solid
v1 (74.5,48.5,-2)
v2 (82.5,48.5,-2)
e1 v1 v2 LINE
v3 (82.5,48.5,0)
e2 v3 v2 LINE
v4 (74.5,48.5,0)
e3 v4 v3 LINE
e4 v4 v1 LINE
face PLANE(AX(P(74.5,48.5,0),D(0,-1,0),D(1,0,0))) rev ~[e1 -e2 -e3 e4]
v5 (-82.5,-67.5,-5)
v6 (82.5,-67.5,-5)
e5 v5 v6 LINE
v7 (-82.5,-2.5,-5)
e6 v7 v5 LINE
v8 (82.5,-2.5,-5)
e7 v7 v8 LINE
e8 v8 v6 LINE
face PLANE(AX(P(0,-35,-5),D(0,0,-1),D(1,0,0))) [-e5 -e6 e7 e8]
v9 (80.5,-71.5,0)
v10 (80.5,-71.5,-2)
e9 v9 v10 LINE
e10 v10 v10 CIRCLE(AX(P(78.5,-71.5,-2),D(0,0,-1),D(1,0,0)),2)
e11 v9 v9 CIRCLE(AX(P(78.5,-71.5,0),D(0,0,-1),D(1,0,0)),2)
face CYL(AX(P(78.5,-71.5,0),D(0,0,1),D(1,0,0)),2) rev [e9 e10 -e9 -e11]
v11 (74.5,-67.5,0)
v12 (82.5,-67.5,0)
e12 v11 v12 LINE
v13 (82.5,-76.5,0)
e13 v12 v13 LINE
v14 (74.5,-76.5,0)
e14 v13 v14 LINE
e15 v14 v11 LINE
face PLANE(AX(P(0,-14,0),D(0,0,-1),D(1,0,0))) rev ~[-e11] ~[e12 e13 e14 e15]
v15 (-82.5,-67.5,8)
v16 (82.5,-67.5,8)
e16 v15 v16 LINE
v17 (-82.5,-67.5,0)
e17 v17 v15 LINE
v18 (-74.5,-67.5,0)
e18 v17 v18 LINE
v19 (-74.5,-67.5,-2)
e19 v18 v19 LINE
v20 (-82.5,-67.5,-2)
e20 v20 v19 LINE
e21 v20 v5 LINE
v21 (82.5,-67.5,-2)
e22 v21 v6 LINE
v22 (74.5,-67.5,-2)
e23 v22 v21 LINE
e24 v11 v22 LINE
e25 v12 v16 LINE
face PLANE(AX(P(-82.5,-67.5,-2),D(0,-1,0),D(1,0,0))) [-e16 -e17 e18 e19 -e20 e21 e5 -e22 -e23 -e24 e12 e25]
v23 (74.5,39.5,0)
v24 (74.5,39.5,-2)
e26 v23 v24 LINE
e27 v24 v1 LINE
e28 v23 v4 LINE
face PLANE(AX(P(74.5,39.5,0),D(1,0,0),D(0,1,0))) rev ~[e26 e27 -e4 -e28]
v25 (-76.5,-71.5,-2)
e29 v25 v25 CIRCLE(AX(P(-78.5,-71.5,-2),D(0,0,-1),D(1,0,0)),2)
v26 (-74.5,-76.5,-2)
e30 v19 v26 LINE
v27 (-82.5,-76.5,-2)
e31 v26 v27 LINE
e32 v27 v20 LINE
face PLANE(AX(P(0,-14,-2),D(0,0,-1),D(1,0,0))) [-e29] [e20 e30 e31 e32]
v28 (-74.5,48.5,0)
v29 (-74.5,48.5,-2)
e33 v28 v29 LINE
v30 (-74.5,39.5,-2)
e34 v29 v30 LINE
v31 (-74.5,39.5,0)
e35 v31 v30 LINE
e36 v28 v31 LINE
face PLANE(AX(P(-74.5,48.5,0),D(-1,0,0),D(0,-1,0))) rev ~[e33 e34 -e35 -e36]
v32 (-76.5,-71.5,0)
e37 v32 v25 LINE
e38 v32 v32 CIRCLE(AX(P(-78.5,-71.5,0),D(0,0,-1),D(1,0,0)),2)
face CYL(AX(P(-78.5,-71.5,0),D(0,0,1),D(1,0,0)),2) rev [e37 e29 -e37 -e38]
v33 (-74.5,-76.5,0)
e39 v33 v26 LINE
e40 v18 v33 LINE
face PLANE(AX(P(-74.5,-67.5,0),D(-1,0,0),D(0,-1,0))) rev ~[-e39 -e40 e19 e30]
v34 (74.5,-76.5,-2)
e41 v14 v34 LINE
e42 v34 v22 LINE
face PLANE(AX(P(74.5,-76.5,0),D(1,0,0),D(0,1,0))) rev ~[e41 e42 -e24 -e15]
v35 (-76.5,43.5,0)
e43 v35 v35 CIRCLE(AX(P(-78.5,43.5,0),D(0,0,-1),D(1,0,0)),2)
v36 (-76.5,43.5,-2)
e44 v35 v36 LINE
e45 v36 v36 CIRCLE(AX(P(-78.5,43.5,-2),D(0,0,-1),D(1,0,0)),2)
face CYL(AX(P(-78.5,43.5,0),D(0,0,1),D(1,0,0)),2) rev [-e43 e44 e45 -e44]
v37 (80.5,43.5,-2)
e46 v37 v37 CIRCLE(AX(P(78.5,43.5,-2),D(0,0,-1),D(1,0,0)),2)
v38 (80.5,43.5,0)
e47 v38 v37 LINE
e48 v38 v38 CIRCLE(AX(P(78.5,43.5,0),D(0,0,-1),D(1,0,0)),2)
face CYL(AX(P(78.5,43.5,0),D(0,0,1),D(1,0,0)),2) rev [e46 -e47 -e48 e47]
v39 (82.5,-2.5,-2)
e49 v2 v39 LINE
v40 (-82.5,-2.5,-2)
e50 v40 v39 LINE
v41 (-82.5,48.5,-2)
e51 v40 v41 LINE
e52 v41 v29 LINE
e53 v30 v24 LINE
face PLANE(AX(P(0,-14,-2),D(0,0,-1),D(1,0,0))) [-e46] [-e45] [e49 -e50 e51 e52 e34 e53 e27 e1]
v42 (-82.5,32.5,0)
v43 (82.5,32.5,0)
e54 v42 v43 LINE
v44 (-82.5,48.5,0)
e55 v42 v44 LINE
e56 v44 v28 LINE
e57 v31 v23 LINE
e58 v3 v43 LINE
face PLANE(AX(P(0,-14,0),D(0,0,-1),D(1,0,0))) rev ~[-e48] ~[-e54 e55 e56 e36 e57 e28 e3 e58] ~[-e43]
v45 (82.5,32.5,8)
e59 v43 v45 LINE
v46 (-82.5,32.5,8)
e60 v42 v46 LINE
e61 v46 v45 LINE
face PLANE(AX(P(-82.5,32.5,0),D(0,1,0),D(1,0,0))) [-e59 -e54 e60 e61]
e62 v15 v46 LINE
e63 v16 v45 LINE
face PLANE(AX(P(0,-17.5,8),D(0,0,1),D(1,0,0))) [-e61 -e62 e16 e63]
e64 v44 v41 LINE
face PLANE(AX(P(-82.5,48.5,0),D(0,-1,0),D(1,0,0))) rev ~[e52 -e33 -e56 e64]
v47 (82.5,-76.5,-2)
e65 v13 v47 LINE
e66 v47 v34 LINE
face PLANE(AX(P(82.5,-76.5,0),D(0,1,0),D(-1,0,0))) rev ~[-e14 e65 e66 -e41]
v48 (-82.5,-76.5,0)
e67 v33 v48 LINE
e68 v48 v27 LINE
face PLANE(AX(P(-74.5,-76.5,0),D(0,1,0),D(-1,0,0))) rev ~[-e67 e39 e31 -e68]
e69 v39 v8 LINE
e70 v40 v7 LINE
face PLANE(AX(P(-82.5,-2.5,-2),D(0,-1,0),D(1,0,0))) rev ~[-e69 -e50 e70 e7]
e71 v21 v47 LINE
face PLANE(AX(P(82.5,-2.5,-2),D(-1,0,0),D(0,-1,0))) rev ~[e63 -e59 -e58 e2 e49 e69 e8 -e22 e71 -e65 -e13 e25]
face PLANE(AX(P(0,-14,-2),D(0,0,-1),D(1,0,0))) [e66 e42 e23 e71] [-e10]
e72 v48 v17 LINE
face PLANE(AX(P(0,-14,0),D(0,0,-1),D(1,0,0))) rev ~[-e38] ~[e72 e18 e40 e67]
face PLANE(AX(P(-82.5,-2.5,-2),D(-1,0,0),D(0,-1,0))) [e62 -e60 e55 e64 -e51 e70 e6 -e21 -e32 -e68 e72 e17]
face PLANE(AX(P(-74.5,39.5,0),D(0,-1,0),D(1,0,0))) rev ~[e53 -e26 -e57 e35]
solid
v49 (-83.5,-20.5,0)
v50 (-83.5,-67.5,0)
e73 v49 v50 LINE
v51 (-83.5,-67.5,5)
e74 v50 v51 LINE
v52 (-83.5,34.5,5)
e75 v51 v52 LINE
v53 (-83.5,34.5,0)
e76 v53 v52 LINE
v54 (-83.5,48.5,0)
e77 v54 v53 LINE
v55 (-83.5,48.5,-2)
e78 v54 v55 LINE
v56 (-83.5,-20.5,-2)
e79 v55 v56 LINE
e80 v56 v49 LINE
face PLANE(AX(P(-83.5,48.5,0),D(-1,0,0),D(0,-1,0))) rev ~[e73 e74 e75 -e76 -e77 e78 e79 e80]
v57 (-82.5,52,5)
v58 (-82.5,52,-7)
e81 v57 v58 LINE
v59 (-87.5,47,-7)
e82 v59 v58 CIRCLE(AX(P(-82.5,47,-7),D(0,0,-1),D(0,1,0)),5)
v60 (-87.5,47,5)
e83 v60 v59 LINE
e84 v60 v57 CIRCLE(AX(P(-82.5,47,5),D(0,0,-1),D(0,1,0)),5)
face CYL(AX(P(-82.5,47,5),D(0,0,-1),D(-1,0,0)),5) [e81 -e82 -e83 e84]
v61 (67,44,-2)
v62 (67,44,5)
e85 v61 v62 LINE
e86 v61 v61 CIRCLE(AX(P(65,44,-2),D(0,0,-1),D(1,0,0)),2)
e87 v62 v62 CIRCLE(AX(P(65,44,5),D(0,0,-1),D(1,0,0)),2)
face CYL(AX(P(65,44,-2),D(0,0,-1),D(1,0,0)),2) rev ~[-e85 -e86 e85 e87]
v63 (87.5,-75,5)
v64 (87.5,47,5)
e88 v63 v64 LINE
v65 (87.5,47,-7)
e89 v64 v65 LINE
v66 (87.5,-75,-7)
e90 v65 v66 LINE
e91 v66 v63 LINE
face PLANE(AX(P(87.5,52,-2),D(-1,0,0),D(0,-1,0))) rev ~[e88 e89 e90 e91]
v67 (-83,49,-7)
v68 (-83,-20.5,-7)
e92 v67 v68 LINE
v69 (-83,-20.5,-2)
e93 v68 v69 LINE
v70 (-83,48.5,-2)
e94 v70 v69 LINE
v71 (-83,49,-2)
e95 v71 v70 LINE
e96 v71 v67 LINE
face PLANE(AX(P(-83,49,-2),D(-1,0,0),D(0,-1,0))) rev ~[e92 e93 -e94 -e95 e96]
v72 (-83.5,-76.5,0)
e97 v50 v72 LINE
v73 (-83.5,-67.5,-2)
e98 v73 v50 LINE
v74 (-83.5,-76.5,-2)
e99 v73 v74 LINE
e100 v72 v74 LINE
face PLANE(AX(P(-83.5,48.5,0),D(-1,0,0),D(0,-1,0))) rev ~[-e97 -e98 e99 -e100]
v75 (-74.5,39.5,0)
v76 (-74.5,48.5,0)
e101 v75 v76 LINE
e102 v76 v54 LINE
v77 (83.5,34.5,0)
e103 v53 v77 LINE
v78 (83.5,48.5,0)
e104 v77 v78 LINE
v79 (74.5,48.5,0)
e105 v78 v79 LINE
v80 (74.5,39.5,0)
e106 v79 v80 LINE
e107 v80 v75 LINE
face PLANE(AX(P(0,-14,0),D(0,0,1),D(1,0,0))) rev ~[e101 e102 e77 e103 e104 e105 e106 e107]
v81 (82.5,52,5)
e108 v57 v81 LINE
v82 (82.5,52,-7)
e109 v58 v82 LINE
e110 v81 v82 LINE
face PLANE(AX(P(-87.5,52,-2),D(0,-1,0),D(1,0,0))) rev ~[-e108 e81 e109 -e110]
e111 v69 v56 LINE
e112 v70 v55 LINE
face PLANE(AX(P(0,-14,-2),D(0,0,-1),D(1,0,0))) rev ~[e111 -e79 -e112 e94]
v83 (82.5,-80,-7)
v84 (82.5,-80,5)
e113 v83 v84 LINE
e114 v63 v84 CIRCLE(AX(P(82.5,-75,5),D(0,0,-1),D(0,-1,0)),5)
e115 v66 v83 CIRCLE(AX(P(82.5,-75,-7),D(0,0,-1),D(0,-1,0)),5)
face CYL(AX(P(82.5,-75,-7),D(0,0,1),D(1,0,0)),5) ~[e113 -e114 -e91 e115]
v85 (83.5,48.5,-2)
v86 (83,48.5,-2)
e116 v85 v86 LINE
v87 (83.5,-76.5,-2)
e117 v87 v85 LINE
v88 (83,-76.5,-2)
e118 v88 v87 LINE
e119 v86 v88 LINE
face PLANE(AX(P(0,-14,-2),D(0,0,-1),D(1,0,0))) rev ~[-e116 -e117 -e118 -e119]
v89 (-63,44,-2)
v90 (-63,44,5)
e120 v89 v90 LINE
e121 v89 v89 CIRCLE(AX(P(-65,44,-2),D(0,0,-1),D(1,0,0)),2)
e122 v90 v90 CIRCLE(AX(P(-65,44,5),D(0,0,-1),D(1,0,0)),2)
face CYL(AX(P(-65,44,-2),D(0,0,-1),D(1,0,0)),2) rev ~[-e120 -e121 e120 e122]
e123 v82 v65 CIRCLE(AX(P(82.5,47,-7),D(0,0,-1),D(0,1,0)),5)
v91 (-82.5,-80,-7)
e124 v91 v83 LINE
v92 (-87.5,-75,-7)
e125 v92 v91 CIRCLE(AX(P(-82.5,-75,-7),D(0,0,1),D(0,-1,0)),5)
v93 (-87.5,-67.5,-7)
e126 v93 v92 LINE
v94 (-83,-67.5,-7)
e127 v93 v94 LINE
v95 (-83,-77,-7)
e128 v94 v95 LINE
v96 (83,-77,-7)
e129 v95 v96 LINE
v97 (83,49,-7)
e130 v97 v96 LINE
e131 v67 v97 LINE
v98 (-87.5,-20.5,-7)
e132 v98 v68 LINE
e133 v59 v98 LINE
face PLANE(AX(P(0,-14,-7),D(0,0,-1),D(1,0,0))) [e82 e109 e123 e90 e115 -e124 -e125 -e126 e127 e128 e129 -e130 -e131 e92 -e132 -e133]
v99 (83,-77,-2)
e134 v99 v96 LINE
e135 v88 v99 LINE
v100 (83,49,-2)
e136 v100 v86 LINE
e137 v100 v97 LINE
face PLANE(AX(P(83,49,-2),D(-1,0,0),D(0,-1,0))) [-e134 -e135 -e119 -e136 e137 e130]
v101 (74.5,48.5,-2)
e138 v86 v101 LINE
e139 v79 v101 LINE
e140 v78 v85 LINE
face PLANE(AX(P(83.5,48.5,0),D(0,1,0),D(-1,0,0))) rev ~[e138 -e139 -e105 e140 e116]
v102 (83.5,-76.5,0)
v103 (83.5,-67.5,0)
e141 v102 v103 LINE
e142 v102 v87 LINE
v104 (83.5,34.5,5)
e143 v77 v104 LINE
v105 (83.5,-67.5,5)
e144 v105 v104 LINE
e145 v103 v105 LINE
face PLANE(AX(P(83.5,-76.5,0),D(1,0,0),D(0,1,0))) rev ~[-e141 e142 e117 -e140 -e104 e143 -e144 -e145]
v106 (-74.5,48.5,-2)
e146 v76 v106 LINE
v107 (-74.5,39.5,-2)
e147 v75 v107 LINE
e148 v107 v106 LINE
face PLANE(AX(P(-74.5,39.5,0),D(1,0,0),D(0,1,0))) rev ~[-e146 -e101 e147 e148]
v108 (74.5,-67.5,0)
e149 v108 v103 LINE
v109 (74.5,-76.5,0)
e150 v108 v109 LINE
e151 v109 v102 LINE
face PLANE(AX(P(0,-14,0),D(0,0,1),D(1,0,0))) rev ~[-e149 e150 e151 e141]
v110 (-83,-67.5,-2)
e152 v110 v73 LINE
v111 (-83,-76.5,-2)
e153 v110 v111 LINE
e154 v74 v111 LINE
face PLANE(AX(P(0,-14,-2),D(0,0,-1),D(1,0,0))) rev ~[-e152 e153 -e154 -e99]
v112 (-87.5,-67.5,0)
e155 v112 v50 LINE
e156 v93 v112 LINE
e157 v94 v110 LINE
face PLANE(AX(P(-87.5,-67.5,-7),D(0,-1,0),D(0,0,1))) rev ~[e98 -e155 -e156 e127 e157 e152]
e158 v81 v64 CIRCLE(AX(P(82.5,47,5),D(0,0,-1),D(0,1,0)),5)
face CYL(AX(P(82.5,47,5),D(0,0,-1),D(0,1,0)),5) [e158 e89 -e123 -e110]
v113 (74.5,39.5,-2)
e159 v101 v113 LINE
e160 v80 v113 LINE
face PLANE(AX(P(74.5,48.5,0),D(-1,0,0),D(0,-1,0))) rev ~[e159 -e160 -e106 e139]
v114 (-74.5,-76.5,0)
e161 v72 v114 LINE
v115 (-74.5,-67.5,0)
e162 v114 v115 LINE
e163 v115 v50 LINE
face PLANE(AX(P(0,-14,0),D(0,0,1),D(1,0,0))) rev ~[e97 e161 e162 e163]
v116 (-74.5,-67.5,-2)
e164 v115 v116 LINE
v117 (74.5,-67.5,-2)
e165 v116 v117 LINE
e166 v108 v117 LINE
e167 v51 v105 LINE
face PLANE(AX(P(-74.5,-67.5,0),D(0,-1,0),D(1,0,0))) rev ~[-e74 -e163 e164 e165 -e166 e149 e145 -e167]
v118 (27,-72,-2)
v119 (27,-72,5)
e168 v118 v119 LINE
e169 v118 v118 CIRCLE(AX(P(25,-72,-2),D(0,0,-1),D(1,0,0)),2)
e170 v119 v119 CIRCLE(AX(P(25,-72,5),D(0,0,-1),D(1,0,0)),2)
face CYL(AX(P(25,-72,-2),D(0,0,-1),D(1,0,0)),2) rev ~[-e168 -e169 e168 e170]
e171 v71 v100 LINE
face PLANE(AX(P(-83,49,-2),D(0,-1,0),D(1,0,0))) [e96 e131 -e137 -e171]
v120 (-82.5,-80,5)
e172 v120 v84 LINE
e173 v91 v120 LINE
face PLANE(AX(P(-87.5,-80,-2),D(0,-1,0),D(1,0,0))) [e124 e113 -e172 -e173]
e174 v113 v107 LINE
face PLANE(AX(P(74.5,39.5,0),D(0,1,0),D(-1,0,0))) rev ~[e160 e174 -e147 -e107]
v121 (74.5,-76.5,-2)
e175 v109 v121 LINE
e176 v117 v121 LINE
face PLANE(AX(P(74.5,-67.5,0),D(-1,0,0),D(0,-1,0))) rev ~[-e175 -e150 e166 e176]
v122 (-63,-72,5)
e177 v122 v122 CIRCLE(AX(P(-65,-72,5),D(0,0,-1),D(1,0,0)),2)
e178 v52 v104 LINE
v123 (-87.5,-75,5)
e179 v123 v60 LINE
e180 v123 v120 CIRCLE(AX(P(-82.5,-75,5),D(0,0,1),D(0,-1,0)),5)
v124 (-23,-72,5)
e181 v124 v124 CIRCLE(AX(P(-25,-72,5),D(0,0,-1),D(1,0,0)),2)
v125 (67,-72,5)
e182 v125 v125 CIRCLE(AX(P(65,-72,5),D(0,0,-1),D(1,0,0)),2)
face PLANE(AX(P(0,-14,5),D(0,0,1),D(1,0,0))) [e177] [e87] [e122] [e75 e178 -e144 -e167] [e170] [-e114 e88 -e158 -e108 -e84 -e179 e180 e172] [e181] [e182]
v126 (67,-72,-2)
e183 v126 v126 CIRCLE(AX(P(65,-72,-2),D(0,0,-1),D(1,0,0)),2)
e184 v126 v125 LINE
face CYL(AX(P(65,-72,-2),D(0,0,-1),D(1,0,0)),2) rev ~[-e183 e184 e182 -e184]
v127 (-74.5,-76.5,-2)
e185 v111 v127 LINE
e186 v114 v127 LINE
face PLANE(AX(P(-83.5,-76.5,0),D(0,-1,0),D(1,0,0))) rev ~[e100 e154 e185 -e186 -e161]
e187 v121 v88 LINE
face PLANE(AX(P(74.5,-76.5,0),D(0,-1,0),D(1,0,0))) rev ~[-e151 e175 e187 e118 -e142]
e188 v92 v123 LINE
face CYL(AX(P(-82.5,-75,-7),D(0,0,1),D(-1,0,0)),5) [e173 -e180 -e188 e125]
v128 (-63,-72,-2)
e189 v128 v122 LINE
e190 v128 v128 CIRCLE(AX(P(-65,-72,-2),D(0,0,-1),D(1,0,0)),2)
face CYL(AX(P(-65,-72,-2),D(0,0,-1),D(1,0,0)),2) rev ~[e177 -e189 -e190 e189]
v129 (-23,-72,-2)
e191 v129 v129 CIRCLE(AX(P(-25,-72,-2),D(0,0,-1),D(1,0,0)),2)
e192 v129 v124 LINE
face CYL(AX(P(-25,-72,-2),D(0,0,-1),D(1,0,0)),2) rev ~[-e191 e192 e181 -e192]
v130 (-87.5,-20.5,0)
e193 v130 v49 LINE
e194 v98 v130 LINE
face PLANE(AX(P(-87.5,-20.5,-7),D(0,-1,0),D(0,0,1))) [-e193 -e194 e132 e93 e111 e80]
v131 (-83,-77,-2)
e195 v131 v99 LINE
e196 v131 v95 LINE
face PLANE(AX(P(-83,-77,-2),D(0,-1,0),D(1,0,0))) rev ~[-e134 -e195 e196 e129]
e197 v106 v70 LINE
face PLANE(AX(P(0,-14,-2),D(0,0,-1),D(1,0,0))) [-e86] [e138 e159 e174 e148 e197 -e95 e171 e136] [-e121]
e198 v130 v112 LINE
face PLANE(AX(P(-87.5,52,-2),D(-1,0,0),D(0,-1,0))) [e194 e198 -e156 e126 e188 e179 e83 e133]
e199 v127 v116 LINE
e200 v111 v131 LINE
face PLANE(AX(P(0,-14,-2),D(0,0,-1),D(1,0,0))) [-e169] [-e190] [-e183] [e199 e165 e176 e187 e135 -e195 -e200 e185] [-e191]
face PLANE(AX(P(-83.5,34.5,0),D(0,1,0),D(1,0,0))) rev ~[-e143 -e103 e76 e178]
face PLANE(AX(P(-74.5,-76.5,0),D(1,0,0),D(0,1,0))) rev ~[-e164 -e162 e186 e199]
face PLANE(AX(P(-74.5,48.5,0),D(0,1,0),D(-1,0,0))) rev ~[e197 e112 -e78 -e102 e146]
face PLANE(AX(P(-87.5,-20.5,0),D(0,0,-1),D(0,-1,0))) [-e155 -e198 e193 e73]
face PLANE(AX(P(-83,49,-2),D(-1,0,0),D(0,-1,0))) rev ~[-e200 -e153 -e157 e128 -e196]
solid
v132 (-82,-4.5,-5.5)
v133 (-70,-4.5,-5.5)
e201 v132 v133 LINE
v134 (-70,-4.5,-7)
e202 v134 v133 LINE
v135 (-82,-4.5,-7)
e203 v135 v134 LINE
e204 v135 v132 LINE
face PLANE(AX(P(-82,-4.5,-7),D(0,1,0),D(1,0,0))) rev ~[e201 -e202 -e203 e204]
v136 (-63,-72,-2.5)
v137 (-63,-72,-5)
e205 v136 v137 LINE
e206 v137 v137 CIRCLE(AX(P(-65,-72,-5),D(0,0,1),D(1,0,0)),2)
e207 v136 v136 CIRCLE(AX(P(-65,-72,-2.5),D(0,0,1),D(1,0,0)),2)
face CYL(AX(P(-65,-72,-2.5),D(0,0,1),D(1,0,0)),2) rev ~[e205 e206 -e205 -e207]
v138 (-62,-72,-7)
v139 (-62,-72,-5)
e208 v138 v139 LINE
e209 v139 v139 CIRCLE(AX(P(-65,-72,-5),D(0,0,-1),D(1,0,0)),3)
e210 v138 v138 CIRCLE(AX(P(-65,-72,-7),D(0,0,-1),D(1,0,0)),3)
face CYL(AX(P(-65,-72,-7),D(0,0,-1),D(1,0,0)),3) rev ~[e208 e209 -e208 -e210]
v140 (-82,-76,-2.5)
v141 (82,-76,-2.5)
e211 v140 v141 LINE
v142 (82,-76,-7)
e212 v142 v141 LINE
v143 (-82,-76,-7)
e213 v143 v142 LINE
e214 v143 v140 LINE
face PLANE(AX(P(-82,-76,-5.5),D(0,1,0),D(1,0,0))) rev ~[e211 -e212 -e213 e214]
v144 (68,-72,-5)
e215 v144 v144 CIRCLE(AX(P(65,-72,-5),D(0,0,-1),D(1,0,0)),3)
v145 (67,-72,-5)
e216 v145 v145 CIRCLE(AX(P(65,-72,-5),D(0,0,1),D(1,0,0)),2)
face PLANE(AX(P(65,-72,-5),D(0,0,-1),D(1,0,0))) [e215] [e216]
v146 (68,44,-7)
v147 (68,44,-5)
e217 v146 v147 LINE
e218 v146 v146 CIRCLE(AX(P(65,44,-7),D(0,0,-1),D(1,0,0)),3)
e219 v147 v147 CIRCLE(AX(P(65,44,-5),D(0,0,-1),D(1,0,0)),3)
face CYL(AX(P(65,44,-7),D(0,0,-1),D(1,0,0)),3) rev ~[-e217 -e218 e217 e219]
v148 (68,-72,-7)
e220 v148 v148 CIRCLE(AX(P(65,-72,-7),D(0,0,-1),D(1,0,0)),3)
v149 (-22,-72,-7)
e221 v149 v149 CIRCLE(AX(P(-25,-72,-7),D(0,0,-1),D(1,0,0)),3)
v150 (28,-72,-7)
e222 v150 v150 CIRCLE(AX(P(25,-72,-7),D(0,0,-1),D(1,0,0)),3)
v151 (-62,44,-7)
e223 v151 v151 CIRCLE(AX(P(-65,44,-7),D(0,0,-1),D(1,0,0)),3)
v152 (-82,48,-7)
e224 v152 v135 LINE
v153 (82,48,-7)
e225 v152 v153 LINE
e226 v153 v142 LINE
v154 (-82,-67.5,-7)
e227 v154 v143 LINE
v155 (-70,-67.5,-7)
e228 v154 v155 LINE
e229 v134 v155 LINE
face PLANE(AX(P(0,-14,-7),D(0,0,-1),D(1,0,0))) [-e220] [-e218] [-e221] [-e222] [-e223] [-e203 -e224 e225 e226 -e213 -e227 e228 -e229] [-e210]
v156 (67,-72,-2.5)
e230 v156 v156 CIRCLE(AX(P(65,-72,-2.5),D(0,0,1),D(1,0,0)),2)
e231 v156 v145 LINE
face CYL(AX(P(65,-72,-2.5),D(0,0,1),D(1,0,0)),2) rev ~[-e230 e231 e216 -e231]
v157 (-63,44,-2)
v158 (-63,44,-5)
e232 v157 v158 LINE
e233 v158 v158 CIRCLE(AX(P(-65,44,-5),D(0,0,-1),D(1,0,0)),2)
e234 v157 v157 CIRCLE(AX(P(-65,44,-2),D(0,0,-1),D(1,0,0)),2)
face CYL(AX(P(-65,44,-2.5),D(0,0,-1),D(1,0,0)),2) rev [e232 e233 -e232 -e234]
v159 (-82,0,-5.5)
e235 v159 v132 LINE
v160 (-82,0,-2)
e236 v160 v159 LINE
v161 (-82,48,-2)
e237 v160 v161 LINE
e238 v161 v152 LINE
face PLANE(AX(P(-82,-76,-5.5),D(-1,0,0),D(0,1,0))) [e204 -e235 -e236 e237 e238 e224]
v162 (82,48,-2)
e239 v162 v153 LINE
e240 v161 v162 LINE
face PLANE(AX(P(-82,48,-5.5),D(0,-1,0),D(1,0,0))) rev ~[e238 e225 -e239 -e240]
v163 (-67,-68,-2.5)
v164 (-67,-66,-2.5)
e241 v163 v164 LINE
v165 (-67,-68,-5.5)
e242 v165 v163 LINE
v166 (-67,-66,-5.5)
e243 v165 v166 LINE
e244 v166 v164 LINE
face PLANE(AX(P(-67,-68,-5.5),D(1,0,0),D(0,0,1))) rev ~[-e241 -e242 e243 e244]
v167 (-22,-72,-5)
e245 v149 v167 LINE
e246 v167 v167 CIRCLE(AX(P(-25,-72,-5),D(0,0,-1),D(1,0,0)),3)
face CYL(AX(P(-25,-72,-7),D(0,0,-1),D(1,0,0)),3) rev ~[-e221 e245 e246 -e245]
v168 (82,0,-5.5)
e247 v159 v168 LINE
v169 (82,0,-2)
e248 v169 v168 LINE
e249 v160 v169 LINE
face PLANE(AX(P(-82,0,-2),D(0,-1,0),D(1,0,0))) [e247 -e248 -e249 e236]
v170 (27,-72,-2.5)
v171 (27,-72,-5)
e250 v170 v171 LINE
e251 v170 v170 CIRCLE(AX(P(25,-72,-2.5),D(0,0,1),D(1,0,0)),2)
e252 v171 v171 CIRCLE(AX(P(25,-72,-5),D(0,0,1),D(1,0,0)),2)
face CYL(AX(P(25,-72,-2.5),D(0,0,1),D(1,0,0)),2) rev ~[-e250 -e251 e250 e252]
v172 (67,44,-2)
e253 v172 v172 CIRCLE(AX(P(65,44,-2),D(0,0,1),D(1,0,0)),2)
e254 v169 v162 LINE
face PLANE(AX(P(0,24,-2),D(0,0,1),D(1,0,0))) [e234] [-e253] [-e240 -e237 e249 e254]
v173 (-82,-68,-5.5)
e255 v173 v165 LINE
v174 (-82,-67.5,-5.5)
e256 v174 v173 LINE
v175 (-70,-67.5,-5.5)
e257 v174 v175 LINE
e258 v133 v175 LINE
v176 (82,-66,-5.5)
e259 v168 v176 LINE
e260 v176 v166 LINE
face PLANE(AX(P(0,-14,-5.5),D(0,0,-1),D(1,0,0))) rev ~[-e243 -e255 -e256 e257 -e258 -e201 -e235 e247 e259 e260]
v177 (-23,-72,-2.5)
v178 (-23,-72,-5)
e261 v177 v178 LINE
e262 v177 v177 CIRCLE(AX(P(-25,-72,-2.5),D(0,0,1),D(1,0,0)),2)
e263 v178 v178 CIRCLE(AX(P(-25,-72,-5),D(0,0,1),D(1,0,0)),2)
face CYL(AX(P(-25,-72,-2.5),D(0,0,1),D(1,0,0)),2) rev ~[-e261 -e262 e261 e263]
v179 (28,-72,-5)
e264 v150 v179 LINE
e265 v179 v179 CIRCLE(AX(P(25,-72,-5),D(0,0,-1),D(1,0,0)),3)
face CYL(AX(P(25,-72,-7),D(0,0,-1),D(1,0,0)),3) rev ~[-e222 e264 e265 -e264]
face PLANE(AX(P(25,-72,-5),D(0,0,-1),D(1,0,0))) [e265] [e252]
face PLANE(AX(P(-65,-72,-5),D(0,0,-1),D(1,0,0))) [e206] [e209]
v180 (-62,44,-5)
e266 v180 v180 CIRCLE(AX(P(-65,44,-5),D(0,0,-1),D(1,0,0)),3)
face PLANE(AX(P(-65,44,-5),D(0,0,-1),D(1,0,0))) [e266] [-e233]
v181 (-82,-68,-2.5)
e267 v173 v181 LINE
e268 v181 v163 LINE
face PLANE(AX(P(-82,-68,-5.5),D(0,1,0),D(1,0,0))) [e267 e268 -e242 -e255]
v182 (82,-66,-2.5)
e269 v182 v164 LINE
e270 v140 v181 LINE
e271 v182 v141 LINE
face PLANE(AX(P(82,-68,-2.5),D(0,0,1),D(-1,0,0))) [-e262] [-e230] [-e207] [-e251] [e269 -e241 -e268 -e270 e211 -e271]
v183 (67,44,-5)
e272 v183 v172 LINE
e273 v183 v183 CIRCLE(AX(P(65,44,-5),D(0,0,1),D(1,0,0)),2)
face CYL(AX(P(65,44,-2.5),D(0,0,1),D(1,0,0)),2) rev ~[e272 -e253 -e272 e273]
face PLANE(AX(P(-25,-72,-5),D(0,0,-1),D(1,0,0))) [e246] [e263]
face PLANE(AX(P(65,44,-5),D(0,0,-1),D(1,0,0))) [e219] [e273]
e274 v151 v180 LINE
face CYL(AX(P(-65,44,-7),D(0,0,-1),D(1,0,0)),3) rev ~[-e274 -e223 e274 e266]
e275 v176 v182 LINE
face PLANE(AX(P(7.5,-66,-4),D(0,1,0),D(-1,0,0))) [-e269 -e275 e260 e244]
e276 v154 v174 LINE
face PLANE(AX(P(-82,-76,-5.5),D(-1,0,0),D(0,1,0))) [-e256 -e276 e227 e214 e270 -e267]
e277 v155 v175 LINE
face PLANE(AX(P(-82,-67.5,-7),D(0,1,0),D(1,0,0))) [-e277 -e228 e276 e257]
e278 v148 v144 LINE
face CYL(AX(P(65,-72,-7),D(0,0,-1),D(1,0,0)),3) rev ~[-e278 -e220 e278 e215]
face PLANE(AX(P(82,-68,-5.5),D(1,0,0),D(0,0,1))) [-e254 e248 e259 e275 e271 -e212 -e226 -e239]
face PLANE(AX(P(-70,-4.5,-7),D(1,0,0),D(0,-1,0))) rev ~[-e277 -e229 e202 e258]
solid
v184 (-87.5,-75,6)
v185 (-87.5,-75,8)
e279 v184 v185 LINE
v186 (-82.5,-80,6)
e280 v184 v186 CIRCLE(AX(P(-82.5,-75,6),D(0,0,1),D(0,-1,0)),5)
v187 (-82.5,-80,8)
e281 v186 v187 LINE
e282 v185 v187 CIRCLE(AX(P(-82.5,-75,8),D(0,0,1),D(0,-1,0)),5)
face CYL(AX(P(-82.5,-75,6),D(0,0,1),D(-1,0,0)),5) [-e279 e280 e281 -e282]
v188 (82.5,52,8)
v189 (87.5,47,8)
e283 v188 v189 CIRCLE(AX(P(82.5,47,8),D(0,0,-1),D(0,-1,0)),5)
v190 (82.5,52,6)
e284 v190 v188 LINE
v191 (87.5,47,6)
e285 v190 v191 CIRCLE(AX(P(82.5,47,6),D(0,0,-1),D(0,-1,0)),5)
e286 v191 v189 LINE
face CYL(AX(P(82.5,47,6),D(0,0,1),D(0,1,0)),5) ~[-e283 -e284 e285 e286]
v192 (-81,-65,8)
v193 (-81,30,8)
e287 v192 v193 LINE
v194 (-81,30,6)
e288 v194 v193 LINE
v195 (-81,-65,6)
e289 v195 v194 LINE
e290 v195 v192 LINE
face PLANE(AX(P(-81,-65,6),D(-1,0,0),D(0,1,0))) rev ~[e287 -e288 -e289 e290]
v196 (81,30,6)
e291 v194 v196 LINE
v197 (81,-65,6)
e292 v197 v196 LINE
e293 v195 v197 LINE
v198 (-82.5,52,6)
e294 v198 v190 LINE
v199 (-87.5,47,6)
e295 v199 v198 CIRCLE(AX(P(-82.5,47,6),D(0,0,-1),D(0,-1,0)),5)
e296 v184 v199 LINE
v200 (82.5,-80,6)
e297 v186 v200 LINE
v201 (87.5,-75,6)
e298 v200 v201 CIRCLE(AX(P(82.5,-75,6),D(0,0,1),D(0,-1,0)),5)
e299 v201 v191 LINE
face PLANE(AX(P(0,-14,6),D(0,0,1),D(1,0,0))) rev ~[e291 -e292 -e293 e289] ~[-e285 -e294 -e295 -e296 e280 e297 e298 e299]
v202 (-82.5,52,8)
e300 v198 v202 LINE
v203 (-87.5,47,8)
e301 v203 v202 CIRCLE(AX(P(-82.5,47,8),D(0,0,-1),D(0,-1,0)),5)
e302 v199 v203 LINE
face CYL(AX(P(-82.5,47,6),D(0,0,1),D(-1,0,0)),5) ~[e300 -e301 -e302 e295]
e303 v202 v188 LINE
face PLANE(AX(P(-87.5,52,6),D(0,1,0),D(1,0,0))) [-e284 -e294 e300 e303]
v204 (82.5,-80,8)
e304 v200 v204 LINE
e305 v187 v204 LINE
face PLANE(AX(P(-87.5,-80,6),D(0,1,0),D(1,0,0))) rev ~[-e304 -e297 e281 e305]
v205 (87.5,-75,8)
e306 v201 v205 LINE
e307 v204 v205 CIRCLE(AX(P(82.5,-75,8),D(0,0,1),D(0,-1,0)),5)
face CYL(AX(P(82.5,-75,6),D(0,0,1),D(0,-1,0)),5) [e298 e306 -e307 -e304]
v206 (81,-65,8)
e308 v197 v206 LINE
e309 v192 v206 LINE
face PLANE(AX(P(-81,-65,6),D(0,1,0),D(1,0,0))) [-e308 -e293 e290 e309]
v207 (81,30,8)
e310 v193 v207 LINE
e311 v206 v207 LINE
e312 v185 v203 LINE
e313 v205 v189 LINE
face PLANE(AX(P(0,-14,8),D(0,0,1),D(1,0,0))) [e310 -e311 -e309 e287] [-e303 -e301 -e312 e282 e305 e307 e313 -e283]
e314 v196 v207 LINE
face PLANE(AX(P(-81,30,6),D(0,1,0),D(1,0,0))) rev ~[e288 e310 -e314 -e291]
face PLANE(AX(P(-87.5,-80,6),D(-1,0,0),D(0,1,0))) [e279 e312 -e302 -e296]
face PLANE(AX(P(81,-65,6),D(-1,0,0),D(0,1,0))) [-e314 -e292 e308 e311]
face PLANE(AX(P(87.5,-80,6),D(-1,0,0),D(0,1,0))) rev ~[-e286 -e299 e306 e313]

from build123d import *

# Parameters (mm, degrees)
SKETCH_W        = 165
SKETCH_H        = 100
PAD_DEPTH       = 8
SKETCH001_R     = 2
PAD001_DEPTH    = 2
SKETCH002_W     = 165
SKETCH002_H     = 65
PAD002_DEPTH    = 3
SKETCH003_W     = 175
SKETCH003_H     = 132
SKETCH003_W_2   = 167
SKETCH003_H_2   = 102
PAD003_DEPTH    = 5
SKETCH004_W     = 175
SKETCH004_H     = 132
PAD004_DEPTH    = 2
SKETCH005_W     = 175
SKETCH005_H     = 132
SKETCH005_W_2   = 166
SKETCH005_H_2   = 126
PAD005_DEPTH    = 5
FILLET_R        = 5
SKETCH006_R     = 2
POCKET_DEPTH    = 7
SKETCH011_W     = 47
SKETCH011_H     = 7
POCKET002_DEPTH = 6
SKETCH007_W     = 164
SKETCH007_H     = 48
PAD006_DEPTH    = 3.5
SKETCH008_W     = 164
SKETCH008_H     = 124
PAD007_DEPTH    = 1.5
SKETCH009_W     = 164
SKETCH009_H     = 8
PAD008_DEPTH    = 3
SKETCH010_R     = 2
POCKET001_DEPTH = 4.5
SKETCH012_W     = 12
SKETCH012_H     = 63
POCKET003_DEPTH = 5
SKETCH013_R     = 3
POCKET004_DEPTH = 2
SKETCH014_W     = 149
SKETCH014_H     = 3
PAD009_DEPTH    = 2
SKETCH015_W     = 175
SKETCH015_H     = 132
SKETCH015_W_2   = 162
SKETCH015_H_2   = 95
PAD010_DEPTH    = 2
FILLET001_R     = 5


with BuildPart() as display:
    # Sketch → Pad (new body)
    with BuildSketch(Plane.XY):
        with Locations((0, -17.5)):
            Rectangle(SKETCH_W, SKETCH_H)
    extrude(amount=PAD_DEPTH)

    # Sketch001 (on Face5 of Pad) → Pad001 (join)
    with BuildSketch(Plane(origin=(0, 0, 0), x_dir=(1, 0, 0), z_dir=(0, 0, -1))):
        Polygon((-82.5, 76.5), (-82.5, -48.5), (-74.5, -48.5), (-74.5, -39.5), (74.5, -39.5), (74.5, -48.5), (82.5, -48.5), (82.5, 76.5), (74.5, 76.5), (74.5, 67.5), (-74.5, 67.5), (-74.5, 76.5), align=None)
        with Locations((-78.5, 71.5)):
            Circle(SKETCH001_R, mode=Mode.SUBTRACT)
        with Locations((78.5, 71.5)):
            Circle(SKETCH001_R, mode=Mode.SUBTRACT)
        with Locations((-78.5, -43.5)):
            Circle(SKETCH001_R, mode=Mode.SUBTRACT)
        with Locations((78.5, -43.5)):
            Circle(SKETCH001_R, mode=Mode.SUBTRACT)
    extrude(amount=PAD001_DEPTH)

    # Sketch002 (on Face5 of Pad001) → Pad002 (join)
    with BuildSketch(Plane(origin=(0, 0, -2), x_dir=(1, 0, 0), z_dir=(0, 0, -1))):
        with Locations((0, 35)):
            Rectangle(SKETCH002_W, SKETCH002_H)
    extrude(amount=PAD002_DEPTH)


with BuildPart() as frame_front:
    # Sketch003 → Pad003 (new body)
    with BuildSketch(Plane.XY):
        with Locations((0, -14)):
            Rectangle(SKETCH003_W, SKETCH003_H)
        with Locations((0, -16.5)):
            Rectangle(SKETCH003_W_2, SKETCH003_H_2, mode=Mode.SUBTRACT)
    extrude(amount=PAD003_DEPTH)

    # Sketch004 (on Face9 of Pad003) → Pad004 (join)
    with BuildSketch(Plane(origin=(0, 0, 0), x_dir=(1, 0, 0), z_dir=(0, 0, -1))):
        with Locations((0, 14)):
            Rectangle(SKETCH004_W, SKETCH004_H)
        Polygon((-74.5, 67.5), (74.5, 67.5), (74.5, 76.5), (83.5, 76.5), (83.5, -48.5), (74.5, -48.5), (74.5, -39.5), (-74.5, -39.5), (-74.5, -48.5), (-83.5, -48.5), (-83.5, 76.5), (-74.5, 76.5), align=None, mode=Mode.SUBTRACT)
    extrude(amount=PAD004_DEPTH)

    # Sketch005 (on Face1 of Pad004) → Pad005 (join)
    with BuildSketch(Plane(origin=(0, 0, -2), x_dir=(1, 0, 0), z_dir=(0, 0, -1))):
        with Locations((0, 14)):
            Rectangle(SKETCH005_W, SKETCH005_H)
        with Locations((0, 14)):
            Rectangle(SKETCH005_W_2, SKETCH005_H_2, mode=Mode.SUBTRACT)
    extrude(amount=PAD005_DEPTH)

    # Fillet
    fillet_edges = [frame_front.edges().sort_by_distance(p)[0] for p in [
        (87.5, 52, -1),
        (87.5, -80, -1),
        (-87.5, 52, -1),
        (-87.5, -80, -1),
    ]]
    fillet(fillet_edges, radius=FILLET_R)

    # Sketch006 (on Face22 of Fillet) → Pocket (cut)
    with BuildSketch(Plane(origin=(0, 0, -2), x_dir=(1, 0, 0), z_dir=(0, 0, -1))):
        with Locations((-65, 72)):
            Circle(SKETCH006_R)
        with Locations((65, 72)):
            Circle(SKETCH006_R)
        with Locations((-65, -44)):
            Circle(SKETCH006_R)
        with Locations((65, -44)):
            Circle(SKETCH006_R)
        with Locations((-25, 72)):
            Circle(SKETCH006_R)
        with Locations((25, 72)):
            Circle(SKETCH006_R)
    extrude(amount=-POCKET_DEPTH, mode=Mode.SUBTRACT)

    # Sketch011 (on Face2 of Pocket) → Pocket002 (cut)
    with BuildSketch(Plane(origin=(-87.5, 0, 0), x_dir=(0, -1, 0), z_dir=(-1, 0, 0))):
        with Locations((44, -3.5)):
            Rectangle(SKETCH011_W, SKETCH011_H)
    extrude(amount=-POCKET002_DEPTH, mode=Mode.SUBTRACT)


with BuildPart() as frame_back:
    # Sketch007 → Pad006 (new body)
    with BuildSketch(Plane.XY):
        with Locations((0, 24)):
            Rectangle(SKETCH007_W, SKETCH007_H)
    extrude(amount=-PAD006_DEPTH)

    # Sketch008 (on Face6 of Pad006) → Pad007 (join)
    with BuildSketch(Plane(origin=(0, 0, -3.5), x_dir=(1, 0, 0), z_dir=(0, 0, -1))):
        with Locations((0, 14)):
            Rectangle(SKETCH008_W, SKETCH008_H)
    extrude(amount=PAD007_DEPTH)

    # Sketch009 (on Face3 of Pad007) → Pad008 (join)
    with BuildSketch(Plane.XY.offset(-3.5)):
        with Locations((0, -72)):
            Rectangle(SKETCH009_W, SKETCH009_H)
    extrude(amount=PAD008_DEPTH)

    # Sketch010 (on Face7 of Pad008) → Pocket001 (cut, symmetric)
    with BuildSketch(Plane.XY.offset(-0.5)):
        with Locations((-65, -72)):
            Circle(SKETCH010_R)
        with Locations((-25, -72)):
            Circle(SKETCH010_R)
        with Locations((25, -72)):
            Circle(SKETCH010_R)
        with Locations((65, -72)):
            Circle(SKETCH010_R)
        with Locations((-65, 44)):
            Circle(SKETCH010_R)
        with Locations((65, 44)):
            Circle(SKETCH010_R)
    extrude(amount=POCKET001_DEPTH, both=True, mode=Mode.SUBTRACT)

    # Sketch012 (on Face7 of Pocket001) → Pocket003 (cut)
    with BuildSketch(Plane(origin=(0, 0, -5), x_dir=(1, 0, 0), z_dir=(0, 0, -1))):
        with Locations((-76, 36)):
            Rectangle(SKETCH012_W, SKETCH012_H)
    extrude(amount=-POCKET003_DEPTH, mode=Mode.SUBTRACT)

    # Sketch013 (on Face7 of Pocket003) → Pocket004 (cut)
    with BuildSketch(Plane(origin=(0, 0, -5), x_dir=(1, 0, 0), z_dir=(0, 0, -1))):
        with Locations((-65, -44)):
            Circle(SKETCH013_R)
        with Locations((65, -44)):
            Circle(SKETCH013_R)
        with Locations((25, 72)):
            Circle(SKETCH013_R)
        with Locations((65, 72)):
            Circle(SKETCH013_R)
        with Locations((-25, 72)):
            Circle(SKETCH013_R)
        with Locations((-65, 72)):
            Circle(SKETCH013_R)
    extrude(amount=-POCKET004_DEPTH, mode=Mode.SUBTRACT)

    # Sketch014 (on Face9 of Pocket004) → Pad009 (join)
    with BuildSketch(Plane(origin=(0, -68, 0), x_dir=(-1, 0, 0), z_dir=(0, 1, 0))):
        with Locations((-7.5, -2)):
            Rectangle(SKETCH014_W, SKETCH014_H)
    extrude(amount=PAD009_DEPTH)


with BuildPart() as frame_back_1:
    # Body002 placement: moved
    add(frame_back.part.moved(Location((0, 0, -2))))


with BuildPart() as frame_cover:
    # Sketch015 → Pad010 (new body)
    with BuildSketch(Plane.XY):
        with Locations((0, -14)):
            Rectangle(SKETCH015_W, SKETCH015_H)
        with Locations((0, -17.5)):
            Rectangle(SKETCH015_W_2, SKETCH015_H_2, mode=Mode.SUBTRACT)
    extrude(amount=PAD010_DEPTH)

    # Fillet001
    fillet001_edges = [frame_cover.edges().sort_by_distance(p)[0] for p in [
        (87.5, -80, 1),
        (-87.5, -80, 1),
        (87.5, 52, 1),
        (-87.5, 52, 1),
    ]]
    fillet(fillet001_edges, radius=FILLET001_R)


with BuildPart() as frame_cover_1:
    # Body003 placement: moved
    add(frame_cover.part.moved(Location((0, 0, 6))))


solid = Compound([display.part, frame_front.part, frame_back_1.part, frame_cover_1.part])
